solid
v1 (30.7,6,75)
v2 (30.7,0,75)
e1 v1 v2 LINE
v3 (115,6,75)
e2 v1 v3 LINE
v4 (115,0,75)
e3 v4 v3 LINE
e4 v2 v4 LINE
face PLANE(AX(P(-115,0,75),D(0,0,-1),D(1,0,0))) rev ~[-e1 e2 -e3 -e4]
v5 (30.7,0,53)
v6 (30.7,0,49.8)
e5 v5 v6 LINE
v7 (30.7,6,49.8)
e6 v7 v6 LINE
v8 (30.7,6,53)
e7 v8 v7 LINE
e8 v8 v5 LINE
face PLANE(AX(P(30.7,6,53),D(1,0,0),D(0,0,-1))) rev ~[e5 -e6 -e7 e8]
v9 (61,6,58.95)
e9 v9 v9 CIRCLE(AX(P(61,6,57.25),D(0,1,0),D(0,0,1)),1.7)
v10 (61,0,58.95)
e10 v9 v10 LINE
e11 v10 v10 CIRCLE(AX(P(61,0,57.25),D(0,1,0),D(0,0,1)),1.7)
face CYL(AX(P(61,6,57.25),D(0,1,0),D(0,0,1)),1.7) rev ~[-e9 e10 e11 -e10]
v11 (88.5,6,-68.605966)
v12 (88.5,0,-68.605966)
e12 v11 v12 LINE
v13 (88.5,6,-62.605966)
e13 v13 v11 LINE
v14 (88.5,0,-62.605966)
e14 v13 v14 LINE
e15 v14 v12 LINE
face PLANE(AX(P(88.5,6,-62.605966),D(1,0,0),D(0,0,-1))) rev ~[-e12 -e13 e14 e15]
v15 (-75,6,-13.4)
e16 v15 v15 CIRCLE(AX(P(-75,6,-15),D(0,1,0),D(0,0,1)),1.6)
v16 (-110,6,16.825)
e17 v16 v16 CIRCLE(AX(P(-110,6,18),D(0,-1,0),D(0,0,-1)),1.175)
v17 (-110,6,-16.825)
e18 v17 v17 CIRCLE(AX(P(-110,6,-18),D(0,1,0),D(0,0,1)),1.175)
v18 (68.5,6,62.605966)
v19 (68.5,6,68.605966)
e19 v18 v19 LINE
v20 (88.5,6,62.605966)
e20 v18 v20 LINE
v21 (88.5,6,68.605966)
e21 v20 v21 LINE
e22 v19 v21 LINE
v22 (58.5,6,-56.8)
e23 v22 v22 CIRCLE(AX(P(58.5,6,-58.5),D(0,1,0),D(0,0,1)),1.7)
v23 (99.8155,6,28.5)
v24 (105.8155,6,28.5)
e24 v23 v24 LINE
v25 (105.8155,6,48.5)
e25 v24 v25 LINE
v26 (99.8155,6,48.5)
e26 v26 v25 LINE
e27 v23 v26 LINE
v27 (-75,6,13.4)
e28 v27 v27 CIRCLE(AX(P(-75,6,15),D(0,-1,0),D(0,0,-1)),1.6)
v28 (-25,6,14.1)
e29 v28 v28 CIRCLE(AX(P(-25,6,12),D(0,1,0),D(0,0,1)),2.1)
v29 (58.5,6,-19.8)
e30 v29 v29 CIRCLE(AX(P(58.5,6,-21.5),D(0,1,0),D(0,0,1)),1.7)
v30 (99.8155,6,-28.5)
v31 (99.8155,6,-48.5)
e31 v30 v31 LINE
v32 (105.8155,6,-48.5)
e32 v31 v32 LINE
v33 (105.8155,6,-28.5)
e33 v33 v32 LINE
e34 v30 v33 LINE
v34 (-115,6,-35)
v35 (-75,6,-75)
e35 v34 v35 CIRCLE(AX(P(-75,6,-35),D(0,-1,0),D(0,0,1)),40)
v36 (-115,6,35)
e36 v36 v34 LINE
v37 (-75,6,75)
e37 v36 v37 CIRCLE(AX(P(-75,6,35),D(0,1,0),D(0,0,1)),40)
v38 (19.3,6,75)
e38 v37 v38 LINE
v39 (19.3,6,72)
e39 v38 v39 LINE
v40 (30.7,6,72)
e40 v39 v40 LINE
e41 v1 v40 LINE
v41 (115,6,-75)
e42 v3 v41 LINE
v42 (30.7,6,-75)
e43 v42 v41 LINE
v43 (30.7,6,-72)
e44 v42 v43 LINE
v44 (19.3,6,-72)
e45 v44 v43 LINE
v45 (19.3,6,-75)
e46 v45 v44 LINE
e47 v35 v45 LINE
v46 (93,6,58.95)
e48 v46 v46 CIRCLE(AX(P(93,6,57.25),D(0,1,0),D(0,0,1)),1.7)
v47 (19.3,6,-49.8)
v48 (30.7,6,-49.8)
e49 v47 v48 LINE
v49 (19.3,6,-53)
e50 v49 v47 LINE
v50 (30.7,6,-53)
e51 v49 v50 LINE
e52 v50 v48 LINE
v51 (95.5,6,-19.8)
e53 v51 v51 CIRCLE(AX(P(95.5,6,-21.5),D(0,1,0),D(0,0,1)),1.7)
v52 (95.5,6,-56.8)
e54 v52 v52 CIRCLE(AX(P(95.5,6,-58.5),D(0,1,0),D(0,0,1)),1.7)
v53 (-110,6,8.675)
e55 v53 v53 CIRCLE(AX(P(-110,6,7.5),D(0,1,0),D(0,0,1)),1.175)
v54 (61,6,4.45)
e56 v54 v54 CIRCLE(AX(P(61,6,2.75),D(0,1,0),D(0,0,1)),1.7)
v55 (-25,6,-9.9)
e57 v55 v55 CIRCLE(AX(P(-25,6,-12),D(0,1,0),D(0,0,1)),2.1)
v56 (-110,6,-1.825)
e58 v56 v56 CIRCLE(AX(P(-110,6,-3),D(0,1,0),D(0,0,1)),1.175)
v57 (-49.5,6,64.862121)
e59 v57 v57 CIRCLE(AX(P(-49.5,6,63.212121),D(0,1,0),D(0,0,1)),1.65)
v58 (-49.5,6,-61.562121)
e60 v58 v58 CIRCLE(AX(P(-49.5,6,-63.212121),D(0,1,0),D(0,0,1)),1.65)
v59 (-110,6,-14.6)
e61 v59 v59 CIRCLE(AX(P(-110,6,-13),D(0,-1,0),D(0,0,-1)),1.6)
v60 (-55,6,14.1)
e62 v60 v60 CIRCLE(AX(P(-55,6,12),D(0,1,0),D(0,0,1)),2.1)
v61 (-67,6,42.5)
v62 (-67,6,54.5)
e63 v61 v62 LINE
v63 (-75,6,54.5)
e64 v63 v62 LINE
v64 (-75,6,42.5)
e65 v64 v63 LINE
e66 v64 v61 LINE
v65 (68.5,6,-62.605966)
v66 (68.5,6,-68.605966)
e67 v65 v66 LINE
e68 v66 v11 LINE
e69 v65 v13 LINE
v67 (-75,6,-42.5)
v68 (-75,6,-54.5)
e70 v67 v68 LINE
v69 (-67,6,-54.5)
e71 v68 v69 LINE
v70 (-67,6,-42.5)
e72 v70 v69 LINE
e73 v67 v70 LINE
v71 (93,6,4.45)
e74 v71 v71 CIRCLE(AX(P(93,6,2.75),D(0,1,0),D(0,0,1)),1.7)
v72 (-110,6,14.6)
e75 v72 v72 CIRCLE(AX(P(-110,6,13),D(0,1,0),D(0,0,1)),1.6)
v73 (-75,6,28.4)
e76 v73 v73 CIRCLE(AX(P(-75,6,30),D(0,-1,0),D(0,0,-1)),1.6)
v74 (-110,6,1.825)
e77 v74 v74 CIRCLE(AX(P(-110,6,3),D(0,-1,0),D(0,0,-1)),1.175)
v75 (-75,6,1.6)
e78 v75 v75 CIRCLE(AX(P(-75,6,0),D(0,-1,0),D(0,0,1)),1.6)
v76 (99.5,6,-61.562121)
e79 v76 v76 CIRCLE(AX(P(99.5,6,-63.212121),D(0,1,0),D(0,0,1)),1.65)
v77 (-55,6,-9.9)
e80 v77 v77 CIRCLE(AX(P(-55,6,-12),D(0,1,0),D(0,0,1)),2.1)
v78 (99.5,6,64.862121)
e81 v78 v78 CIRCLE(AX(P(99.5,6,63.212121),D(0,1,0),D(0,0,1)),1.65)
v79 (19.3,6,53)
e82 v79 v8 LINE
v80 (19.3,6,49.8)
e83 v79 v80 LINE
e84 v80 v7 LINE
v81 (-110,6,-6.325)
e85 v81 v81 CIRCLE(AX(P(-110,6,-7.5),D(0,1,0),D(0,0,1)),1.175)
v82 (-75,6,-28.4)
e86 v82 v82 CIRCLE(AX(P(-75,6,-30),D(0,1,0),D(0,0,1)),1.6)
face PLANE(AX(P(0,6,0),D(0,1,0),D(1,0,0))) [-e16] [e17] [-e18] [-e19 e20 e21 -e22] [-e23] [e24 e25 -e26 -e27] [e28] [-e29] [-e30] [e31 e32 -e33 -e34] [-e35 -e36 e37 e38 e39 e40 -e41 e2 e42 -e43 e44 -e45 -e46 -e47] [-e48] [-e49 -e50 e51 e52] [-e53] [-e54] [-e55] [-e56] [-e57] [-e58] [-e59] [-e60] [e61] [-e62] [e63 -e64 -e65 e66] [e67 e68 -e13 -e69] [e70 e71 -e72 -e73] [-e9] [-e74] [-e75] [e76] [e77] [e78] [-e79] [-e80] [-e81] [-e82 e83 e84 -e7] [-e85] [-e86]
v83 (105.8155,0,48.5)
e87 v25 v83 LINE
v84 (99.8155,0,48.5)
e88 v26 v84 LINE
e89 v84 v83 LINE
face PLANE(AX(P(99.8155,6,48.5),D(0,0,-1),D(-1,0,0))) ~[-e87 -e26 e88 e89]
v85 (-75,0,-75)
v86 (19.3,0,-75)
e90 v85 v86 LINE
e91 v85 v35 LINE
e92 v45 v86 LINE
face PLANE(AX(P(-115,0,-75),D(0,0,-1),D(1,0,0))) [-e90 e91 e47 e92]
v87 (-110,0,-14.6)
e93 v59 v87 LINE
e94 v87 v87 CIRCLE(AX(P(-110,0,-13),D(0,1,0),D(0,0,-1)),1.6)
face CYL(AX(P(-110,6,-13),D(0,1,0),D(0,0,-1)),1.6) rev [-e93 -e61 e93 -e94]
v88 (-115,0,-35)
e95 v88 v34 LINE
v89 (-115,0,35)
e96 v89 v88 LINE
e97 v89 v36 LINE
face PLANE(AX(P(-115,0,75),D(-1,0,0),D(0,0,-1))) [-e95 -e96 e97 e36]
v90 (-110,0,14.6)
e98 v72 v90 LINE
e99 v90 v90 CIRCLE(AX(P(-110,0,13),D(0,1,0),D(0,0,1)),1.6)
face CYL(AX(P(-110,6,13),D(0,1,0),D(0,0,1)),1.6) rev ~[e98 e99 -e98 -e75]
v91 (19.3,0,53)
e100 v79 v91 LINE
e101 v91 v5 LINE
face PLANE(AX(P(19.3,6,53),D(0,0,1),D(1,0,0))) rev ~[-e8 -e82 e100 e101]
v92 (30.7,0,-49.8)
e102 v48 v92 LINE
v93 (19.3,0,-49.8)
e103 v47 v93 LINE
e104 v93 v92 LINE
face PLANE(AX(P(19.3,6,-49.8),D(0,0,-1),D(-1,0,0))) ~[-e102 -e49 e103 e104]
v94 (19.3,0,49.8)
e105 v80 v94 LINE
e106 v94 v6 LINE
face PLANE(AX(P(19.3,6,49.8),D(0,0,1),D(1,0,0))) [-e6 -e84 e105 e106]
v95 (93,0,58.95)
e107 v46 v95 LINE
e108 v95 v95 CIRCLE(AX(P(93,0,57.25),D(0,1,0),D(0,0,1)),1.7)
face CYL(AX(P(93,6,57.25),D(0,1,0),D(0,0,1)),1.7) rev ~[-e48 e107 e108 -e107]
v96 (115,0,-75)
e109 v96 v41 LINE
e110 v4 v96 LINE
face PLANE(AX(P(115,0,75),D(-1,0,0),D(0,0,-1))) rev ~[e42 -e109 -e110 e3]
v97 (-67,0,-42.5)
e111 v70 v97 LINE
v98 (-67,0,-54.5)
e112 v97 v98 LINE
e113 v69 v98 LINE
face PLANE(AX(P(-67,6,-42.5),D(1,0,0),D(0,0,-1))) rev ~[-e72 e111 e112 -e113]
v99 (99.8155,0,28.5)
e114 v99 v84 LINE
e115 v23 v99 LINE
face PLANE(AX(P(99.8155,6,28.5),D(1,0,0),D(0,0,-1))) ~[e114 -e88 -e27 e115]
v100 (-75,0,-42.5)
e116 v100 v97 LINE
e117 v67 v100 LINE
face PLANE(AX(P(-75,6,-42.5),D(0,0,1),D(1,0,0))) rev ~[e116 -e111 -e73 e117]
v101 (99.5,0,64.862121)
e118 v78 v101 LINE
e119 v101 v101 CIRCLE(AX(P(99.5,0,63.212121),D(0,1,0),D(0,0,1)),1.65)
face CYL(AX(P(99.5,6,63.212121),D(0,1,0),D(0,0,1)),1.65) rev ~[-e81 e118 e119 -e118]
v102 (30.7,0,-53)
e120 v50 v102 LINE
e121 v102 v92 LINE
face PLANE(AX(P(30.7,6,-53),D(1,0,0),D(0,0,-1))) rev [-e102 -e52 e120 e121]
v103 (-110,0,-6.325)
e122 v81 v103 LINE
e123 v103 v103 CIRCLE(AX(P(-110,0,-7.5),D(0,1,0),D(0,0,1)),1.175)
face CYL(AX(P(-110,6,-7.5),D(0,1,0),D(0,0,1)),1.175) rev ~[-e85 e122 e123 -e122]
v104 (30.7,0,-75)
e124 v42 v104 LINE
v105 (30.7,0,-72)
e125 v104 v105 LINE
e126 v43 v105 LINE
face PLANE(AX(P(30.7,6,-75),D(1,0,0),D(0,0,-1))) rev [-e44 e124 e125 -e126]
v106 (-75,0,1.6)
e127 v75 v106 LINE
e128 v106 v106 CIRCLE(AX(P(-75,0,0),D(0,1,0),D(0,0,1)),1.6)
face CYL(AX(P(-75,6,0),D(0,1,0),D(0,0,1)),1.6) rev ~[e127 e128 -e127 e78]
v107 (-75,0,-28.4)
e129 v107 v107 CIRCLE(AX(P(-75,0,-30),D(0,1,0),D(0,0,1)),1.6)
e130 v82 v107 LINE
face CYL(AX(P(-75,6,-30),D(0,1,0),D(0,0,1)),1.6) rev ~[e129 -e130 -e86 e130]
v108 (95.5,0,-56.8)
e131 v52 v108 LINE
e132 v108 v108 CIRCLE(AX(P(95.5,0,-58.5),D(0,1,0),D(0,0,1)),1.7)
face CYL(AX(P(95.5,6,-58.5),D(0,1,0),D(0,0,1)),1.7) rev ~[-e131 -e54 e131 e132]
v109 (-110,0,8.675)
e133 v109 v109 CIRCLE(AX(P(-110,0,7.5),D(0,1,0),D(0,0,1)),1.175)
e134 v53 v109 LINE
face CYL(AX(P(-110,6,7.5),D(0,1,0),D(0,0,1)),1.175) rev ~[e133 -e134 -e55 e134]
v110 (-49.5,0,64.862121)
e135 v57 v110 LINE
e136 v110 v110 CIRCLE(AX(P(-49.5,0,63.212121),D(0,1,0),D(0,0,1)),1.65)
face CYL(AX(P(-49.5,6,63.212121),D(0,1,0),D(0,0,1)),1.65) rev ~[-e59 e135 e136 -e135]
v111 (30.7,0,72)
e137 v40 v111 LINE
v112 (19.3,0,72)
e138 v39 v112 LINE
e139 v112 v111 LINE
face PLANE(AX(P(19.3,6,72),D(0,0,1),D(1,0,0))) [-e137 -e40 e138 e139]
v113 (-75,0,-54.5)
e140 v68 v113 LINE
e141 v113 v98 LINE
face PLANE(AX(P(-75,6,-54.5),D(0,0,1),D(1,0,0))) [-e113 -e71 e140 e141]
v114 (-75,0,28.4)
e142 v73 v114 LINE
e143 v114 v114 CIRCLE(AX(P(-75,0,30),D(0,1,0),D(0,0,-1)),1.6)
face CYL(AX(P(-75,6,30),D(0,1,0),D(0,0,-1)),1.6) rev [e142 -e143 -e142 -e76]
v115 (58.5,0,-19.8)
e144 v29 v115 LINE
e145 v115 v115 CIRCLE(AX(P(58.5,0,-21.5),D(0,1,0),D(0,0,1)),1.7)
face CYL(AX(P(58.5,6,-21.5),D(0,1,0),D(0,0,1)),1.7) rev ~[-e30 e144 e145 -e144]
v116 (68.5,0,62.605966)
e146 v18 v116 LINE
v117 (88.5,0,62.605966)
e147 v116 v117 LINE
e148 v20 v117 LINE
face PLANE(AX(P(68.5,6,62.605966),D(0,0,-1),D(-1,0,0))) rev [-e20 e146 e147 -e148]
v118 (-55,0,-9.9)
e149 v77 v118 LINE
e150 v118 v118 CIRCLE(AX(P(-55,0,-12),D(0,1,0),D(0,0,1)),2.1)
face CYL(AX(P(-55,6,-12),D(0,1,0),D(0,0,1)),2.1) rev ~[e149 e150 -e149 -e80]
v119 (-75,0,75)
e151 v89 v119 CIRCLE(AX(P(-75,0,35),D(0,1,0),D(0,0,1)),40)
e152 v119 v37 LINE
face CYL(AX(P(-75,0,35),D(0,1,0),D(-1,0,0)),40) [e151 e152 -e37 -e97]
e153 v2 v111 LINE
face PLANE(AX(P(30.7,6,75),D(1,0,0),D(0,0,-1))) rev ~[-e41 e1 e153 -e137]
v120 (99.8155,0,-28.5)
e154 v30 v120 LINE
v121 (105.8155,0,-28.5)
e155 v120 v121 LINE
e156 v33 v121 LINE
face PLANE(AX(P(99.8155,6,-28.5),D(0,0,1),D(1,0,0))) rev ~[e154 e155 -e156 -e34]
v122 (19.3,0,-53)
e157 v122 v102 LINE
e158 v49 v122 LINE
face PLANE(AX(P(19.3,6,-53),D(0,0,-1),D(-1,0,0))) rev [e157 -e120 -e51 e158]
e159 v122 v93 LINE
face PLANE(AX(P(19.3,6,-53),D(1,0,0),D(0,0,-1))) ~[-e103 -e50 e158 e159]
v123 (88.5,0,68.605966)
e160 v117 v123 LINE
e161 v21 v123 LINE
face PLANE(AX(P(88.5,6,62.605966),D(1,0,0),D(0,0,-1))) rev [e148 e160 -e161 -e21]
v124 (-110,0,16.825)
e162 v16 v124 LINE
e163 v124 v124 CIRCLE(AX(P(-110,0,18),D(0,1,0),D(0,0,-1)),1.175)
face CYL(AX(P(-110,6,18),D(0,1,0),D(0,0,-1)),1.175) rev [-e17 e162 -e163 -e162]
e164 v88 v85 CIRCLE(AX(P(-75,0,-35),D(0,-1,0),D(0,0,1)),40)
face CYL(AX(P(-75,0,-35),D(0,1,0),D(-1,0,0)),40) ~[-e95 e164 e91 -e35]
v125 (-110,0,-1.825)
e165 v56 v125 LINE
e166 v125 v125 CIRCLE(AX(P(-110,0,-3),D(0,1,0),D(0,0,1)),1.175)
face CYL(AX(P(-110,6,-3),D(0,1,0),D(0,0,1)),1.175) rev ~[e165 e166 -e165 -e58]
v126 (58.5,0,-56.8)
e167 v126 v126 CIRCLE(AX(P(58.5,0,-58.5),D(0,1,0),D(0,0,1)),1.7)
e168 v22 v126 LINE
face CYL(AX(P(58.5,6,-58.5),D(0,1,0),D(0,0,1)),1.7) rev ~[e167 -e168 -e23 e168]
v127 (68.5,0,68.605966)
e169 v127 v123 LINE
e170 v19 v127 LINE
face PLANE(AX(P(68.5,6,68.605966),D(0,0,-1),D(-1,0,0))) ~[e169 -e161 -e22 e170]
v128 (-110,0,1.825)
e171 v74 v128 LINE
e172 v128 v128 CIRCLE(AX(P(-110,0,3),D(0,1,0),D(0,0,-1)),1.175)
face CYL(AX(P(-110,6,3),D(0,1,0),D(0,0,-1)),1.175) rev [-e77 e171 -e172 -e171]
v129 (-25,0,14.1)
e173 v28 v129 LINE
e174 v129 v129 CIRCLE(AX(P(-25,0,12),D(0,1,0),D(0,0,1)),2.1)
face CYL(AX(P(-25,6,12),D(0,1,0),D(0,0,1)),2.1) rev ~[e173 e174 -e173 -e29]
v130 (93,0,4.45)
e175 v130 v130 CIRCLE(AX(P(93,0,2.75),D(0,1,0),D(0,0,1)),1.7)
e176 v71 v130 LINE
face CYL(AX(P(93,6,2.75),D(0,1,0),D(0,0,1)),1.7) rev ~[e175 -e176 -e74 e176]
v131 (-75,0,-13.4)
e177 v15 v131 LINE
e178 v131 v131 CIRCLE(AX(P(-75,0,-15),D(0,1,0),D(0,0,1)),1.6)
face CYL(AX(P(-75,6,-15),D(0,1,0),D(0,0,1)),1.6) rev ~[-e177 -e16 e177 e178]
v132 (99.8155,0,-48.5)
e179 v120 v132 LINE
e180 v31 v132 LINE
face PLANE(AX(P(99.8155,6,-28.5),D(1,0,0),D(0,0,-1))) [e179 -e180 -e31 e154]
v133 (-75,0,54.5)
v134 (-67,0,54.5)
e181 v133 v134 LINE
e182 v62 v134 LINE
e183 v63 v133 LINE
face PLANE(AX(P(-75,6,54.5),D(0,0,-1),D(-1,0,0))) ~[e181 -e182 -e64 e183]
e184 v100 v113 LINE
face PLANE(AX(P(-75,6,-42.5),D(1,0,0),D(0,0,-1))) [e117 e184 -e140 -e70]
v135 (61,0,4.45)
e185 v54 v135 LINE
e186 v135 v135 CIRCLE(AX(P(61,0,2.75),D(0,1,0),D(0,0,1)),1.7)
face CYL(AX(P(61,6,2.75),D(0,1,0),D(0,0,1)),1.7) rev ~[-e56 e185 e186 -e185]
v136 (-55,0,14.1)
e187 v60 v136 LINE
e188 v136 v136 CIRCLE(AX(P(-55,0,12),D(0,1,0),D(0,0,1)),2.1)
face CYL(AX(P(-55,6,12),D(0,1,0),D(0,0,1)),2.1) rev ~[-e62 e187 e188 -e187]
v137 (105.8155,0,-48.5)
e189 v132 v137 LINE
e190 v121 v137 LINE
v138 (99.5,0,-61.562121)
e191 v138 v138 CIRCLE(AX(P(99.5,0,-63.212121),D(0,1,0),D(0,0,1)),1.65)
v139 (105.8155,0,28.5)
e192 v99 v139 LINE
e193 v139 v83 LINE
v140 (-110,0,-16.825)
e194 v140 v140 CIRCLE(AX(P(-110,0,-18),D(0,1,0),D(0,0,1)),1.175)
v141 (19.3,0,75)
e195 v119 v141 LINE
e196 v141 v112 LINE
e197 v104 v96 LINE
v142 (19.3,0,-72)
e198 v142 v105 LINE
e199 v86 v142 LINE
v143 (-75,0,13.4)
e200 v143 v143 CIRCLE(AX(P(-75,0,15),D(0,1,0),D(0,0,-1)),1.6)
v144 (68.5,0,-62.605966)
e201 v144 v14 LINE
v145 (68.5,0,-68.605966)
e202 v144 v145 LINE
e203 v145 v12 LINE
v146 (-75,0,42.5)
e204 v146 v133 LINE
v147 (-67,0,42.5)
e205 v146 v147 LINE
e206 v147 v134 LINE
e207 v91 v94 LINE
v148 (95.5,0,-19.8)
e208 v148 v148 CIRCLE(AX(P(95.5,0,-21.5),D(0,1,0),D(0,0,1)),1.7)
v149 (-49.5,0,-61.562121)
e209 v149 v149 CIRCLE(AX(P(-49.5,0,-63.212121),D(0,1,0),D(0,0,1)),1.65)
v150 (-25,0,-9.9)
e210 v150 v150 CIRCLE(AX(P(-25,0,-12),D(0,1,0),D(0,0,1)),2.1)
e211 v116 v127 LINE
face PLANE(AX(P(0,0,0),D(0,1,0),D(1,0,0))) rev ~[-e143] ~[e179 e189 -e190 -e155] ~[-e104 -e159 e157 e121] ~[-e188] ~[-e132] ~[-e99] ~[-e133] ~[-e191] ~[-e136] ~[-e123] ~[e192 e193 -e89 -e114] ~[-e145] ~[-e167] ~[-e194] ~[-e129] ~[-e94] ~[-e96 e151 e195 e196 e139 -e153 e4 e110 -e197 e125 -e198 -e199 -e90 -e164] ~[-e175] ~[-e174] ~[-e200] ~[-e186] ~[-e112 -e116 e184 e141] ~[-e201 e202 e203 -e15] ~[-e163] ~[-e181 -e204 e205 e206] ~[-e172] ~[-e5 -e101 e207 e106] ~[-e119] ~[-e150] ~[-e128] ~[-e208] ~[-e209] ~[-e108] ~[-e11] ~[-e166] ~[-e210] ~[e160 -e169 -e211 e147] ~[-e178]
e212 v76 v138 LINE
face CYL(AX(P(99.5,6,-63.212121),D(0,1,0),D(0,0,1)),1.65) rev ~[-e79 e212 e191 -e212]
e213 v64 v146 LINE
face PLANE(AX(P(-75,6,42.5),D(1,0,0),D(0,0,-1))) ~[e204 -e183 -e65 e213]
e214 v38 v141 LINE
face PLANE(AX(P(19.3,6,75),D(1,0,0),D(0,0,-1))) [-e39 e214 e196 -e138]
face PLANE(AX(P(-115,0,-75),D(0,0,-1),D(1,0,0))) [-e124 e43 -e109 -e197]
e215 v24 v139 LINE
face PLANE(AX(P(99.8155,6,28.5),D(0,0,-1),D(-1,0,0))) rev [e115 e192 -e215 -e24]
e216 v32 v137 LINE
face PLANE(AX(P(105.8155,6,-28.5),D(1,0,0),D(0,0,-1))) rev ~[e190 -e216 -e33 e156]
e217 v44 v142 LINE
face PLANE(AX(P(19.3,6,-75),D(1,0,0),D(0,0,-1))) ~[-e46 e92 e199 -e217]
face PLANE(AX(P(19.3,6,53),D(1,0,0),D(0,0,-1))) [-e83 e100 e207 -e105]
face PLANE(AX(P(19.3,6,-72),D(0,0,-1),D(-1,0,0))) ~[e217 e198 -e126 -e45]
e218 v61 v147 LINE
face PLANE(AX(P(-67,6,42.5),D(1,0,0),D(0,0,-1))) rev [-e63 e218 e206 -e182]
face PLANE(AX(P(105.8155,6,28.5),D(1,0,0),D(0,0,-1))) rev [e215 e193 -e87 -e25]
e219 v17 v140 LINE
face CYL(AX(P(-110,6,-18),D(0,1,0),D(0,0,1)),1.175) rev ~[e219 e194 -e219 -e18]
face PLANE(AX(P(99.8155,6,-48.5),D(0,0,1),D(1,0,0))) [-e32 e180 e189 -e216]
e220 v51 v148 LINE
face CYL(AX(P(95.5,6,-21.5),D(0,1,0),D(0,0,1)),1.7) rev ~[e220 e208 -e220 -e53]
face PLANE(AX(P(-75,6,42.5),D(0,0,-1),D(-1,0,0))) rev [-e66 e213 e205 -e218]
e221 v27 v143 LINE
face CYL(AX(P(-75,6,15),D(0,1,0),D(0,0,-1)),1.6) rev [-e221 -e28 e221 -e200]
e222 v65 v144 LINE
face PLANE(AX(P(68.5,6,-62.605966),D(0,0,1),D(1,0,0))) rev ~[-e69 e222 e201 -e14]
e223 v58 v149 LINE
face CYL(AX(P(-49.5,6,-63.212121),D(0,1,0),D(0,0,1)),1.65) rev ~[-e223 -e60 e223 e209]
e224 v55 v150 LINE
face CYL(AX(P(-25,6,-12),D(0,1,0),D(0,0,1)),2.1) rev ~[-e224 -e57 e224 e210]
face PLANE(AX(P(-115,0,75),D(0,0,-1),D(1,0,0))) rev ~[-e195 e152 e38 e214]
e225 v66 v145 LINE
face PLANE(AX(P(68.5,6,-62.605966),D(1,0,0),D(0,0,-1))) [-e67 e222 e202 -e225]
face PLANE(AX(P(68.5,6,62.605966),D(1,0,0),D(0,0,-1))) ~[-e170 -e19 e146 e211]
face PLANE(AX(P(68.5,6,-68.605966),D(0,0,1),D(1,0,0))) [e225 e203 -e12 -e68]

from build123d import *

# Parameters (mm, degrees)
SKETCH1_W           = 230
SKETCH1_H           = 150
BOSS_EXTRUDE1_DEPTH = 6
SKETCH2_W           = 11.4
SKETCH2_H           = 3
SKETCH2_H_2         = 3.2
CUT_EXTRUDE1_DEPTH  = 26
SKETCH3_R           = 2.1
CUT_EXTRUDE2_DEPTH  = 26
SKETCH4_R           = 1.6
CUT_EXTRUDE3_DEPTH  = 26
SKETCH5_R           = 1.175
CUT_EXTRUDE4_DEPTH  = 26
SKETCH6_R           = 1.175
CUT_EXTRUDE5_DEPTH  = 26
SKETCH7_W           = 8
SKETCH7_H           = 12
CUT_EXTRUDE6_DEPTH  = 26
FILLET1_R           = 40
SKETCH8_R           = 1.65
CUT_EXTRUDE7_DEPTH  = 26
SKETCH9_R           = 1.6
CUT_EXTRUDE8_DEPTH  = 10
SKETCH10_R          = 1.7
CUT_EXTRUDE9_DEPTH  = 10
SKETCH12_W          = 20
SKETCH12_H          = 6
SKETCH12_W_2        = 6
SKETCH12_H_2        = 20
CUT_EXTRUDE10_DEPTH = 10


with BuildPart() as part:
    # Sketch1 → Boss-Extrude1 (new body)
    with BuildSketch(Plane(origin=(0, 0, 0), x_dir=(1, 0, 0), z_dir=(0, 1, 0))):
        Rectangle(SKETCH1_W, SKETCH1_H)
    extrude(amount=BOSS_EXTRUDE1_DEPTH)

    # Sketch2 → Cut-Extrude1 (cut)
    with BuildSketch(Plane(origin=(0, 6, 0), x_dir=(1, 0, 0), z_dir=(0, 1, 0))):
        with Locations((25, -73.5)):
            Rectangle(SKETCH2_W, SKETCH2_H)
        with Locations((25, -51.4)):
            Rectangle(SKETCH2_W, SKETCH2_H_2)
    cut_extrude1 = extrude(amount=-CUT_EXTRUDE1_DEPTH, mode=Mode.SUBTRACT)

    # Mirror1: Cut-Extrude1 across plane
    add(cut_extrude1.mirror(Plane.XY), mode=Mode.SUBTRACT)

    # Sketch3 → Cut-Extrude2 (cut)
    with BuildSketch(Plane(origin=(0, 6, 0), x_dir=(1, 0, 0), z_dir=(0, 1, 0))):
        with Locations(Location((-25, -12, 0), (0, 0, 270))):
            Circle(SKETCH3_R)
        with Locations(Location((-25, 12, 0), (0, 0, 270))):
            Circle(SKETCH3_R)
        with Locations(Location((-55, 12, 0), (0, 0, 270))):
            Circle(SKETCH3_R)
        with Locations(Location((-55, -12, 0), (0, 0, 270))):
            Circle(SKETCH3_R)
    extrude(amount=-CUT_EXTRUDE2_DEPTH, mode=Mode.SUBTRACT)

    # Sketch4 → Cut-Extrude3 (cut)
    with BuildSketch(Plane(origin=(0, 6, 0), x_dir=(1, 0, 0), z_dir=(0, 1, 0))):
        with Locations(Location((-75, 0, 0), (0, 0, 270))):
            Circle(SKETCH4_R)
        with Locations(Location((-75, 15, 0), (0, 0, 270))):
            Circle(SKETCH4_R)
        with Locations(Location((-75, 30, 0), (0, 0, 270))):
            Circle(SKETCH4_R)
    cut_extrude3 = extrude(amount=-CUT_EXTRUDE3_DEPTH, mode=Mode.SUBTRACT)

    # Mirror2: Cut-Extrude3 across plane
    add(cut_extrude3.mirror(Plane.XY), mode=Mode.SUBTRACT)

    # Sketch5 → Cut-Extrude4 (cut)
    with BuildSketch(Plane(origin=(0, 6, 0), x_dir=(1, 0, 0), z_dir=(0, 1, 0))):
        with Locations(Location((-110, 7.5, 0), (0, 0, 270))):
            Circle(SKETCH5_R)
        with Locations(Location((-110, -7.5, 0), (0, 0, 270))):
            Circle(SKETCH5_R)
    extrude(amount=-CUT_EXTRUDE4_DEPTH, mode=Mode.SUBTRACT)

    # Sketch6 → Cut-Extrude5 (cut)
    with BuildSketch(Plane(origin=(0, 6, 0), x_dir=(1, 0, 0), z_dir=(0, 1, 0))):
        with Locations(Location((-110, 3, 0), (0, 0, 270))):
            Circle(SKETCH6_R)
        with Locations(Location((-110, 18, 0), (0, 0, 270))):
            Circle(SKETCH6_R)
    cut_extrude5 = extrude(amount=-CUT_EXTRUDE5_DEPTH, mode=Mode.SUBTRACT)

    # Mirror3: Cut-Extrude5 across plane
    add(cut_extrude5.mirror(Plane.XY), mode=Mode.SUBTRACT)

    # Sketch7 → Cut-Extrude6 (cut)
    with BuildSketch(Plane(origin=(0, 6, 0), x_dir=(1, 0, 0), z_dir=(0, 1, 0))):
        with Locations((-71, 48.5)):
            Rectangle(SKETCH7_W, SKETCH7_H)
    cut_extrude6 = extrude(amount=-CUT_EXTRUDE6_DEPTH, mode=Mode.SUBTRACT)

    # Mirror4: Cut-Extrude6 across plane
    add(cut_extrude6.mirror(Plane.XY), mode=Mode.SUBTRACT)

    # Fillet1
    fillet1_edges = [part.edges().sort_by_distance(p)[0] for p in [
        (-115, 3, 75),
        (-115, 3, -75),
    ]]
    fillet(fillet1_edges, radius=FILLET1_R)

    # Sketch8 → Cut-Extrude7 (cut)
    with BuildSketch(Plane(origin=(0, 6, 0), x_dir=(1, 0, 0), z_dir=(0, 1, 0))):
        with Locations(Location((-49.5, 63.212121212, 0), (0, 0, 270))):
            Circle(SKETCH8_R)
        with Locations(Location((-49.5, -63.212121212, 0), (0, 0, 270))):
            Circle(SKETCH8_R)
        with Locations(Location((99.5, -63.212121212, 0), (0, 0, 270))):
            Circle(SKETCH8_R)
        with Locations(Location((99.5, 63.212121212, 0), (0, 0, 270))):
            Circle(SKETCH8_R)
    extrude(amount=-CUT_EXTRUDE7_DEPTH, mode=Mode.SUBTRACT)

    # Sketch9 → Cut-Extrude8 (cut)
    with BuildSketch(Plane(origin=(0, 6, 0), x_dir=(1, 0, 0), z_dir=(0, 1, 0))):
        with Locations(Location((-110, -13, 0), (0, 0, 270))):
            Circle(SKETCH9_R)
    cut_extrude8 = extrude(amount=-CUT_EXTRUDE8_DEPTH, mode=Mode.SUBTRACT)

    # Mirror5: Cut-Extrude8 across plane
    add(cut_extrude8.mirror(Plane.XY), mode=Mode.SUBTRACT)

    # Sketch10 → Cut-Extrude9 (cut)
    with BuildSketch(Plane(origin=(0, 6, 0), x_dir=(1, 0, 0), z_dir=(0, 1, 0))):
        with Locations(Location((58.5, 21.5, 0), (0, 0, 270))):
            Circle(SKETCH10_R)
        with Locations(Location((95.5, 21.5, 0), (0, 0, 270))):
            Circle(SKETCH10_R)
        with Locations(Location((95.5, 58.5, 0), (0, 0, 270))):
            Circle(SKETCH10_R)
        with Locations(Location((58.5, 58.5, 0), (0, 0, 270))):
            Circle(SKETCH10_R)
        with Locations(Location((61, -2.75, 0), (0, 0, 270))):
            Circle(SKETCH10_R)
        with Locations(Location((93, -2.75, 0), (0, 0, 270))):
            Circle(SKETCH10_R)
        with Locations(Location((61, -57.25, 0), (0, 0, 270))):
            Circle(SKETCH10_R)
        with Locations(Location((93, -57.25, 0), (0, 0, 270))):
            Circle(SKETCH10_R)
    extrude(amount=-CUT_EXTRUDE9_DEPTH, mode=Mode.SUBTRACT)

    # Sketch12 → Cut-Extrude10 (cut)
    with BuildSketch(Plane(origin=(0, 6, 0), x_dir=(1, 0, 0), z_dir=(0, 1, 0))):
        with Locations((78.5, 65.605966129)):
            Rectangle(SKETCH12_W, SKETCH12_H)
        with Locations((102.815499503, 38.5)):
            Rectangle(SKETCH12_W_2, SKETCH12_H_2)
    cut_extrude10 = extrude(amount=-CUT_EXTRUDE10_DEPTH, mode=Mode.SUBTRACT)

    # Mirror6: Cut-Extrude10 across plane
    add(cut_extrude10.mirror(Plane.XY), mode=Mode.SUBTRACT)


solid = part.part
